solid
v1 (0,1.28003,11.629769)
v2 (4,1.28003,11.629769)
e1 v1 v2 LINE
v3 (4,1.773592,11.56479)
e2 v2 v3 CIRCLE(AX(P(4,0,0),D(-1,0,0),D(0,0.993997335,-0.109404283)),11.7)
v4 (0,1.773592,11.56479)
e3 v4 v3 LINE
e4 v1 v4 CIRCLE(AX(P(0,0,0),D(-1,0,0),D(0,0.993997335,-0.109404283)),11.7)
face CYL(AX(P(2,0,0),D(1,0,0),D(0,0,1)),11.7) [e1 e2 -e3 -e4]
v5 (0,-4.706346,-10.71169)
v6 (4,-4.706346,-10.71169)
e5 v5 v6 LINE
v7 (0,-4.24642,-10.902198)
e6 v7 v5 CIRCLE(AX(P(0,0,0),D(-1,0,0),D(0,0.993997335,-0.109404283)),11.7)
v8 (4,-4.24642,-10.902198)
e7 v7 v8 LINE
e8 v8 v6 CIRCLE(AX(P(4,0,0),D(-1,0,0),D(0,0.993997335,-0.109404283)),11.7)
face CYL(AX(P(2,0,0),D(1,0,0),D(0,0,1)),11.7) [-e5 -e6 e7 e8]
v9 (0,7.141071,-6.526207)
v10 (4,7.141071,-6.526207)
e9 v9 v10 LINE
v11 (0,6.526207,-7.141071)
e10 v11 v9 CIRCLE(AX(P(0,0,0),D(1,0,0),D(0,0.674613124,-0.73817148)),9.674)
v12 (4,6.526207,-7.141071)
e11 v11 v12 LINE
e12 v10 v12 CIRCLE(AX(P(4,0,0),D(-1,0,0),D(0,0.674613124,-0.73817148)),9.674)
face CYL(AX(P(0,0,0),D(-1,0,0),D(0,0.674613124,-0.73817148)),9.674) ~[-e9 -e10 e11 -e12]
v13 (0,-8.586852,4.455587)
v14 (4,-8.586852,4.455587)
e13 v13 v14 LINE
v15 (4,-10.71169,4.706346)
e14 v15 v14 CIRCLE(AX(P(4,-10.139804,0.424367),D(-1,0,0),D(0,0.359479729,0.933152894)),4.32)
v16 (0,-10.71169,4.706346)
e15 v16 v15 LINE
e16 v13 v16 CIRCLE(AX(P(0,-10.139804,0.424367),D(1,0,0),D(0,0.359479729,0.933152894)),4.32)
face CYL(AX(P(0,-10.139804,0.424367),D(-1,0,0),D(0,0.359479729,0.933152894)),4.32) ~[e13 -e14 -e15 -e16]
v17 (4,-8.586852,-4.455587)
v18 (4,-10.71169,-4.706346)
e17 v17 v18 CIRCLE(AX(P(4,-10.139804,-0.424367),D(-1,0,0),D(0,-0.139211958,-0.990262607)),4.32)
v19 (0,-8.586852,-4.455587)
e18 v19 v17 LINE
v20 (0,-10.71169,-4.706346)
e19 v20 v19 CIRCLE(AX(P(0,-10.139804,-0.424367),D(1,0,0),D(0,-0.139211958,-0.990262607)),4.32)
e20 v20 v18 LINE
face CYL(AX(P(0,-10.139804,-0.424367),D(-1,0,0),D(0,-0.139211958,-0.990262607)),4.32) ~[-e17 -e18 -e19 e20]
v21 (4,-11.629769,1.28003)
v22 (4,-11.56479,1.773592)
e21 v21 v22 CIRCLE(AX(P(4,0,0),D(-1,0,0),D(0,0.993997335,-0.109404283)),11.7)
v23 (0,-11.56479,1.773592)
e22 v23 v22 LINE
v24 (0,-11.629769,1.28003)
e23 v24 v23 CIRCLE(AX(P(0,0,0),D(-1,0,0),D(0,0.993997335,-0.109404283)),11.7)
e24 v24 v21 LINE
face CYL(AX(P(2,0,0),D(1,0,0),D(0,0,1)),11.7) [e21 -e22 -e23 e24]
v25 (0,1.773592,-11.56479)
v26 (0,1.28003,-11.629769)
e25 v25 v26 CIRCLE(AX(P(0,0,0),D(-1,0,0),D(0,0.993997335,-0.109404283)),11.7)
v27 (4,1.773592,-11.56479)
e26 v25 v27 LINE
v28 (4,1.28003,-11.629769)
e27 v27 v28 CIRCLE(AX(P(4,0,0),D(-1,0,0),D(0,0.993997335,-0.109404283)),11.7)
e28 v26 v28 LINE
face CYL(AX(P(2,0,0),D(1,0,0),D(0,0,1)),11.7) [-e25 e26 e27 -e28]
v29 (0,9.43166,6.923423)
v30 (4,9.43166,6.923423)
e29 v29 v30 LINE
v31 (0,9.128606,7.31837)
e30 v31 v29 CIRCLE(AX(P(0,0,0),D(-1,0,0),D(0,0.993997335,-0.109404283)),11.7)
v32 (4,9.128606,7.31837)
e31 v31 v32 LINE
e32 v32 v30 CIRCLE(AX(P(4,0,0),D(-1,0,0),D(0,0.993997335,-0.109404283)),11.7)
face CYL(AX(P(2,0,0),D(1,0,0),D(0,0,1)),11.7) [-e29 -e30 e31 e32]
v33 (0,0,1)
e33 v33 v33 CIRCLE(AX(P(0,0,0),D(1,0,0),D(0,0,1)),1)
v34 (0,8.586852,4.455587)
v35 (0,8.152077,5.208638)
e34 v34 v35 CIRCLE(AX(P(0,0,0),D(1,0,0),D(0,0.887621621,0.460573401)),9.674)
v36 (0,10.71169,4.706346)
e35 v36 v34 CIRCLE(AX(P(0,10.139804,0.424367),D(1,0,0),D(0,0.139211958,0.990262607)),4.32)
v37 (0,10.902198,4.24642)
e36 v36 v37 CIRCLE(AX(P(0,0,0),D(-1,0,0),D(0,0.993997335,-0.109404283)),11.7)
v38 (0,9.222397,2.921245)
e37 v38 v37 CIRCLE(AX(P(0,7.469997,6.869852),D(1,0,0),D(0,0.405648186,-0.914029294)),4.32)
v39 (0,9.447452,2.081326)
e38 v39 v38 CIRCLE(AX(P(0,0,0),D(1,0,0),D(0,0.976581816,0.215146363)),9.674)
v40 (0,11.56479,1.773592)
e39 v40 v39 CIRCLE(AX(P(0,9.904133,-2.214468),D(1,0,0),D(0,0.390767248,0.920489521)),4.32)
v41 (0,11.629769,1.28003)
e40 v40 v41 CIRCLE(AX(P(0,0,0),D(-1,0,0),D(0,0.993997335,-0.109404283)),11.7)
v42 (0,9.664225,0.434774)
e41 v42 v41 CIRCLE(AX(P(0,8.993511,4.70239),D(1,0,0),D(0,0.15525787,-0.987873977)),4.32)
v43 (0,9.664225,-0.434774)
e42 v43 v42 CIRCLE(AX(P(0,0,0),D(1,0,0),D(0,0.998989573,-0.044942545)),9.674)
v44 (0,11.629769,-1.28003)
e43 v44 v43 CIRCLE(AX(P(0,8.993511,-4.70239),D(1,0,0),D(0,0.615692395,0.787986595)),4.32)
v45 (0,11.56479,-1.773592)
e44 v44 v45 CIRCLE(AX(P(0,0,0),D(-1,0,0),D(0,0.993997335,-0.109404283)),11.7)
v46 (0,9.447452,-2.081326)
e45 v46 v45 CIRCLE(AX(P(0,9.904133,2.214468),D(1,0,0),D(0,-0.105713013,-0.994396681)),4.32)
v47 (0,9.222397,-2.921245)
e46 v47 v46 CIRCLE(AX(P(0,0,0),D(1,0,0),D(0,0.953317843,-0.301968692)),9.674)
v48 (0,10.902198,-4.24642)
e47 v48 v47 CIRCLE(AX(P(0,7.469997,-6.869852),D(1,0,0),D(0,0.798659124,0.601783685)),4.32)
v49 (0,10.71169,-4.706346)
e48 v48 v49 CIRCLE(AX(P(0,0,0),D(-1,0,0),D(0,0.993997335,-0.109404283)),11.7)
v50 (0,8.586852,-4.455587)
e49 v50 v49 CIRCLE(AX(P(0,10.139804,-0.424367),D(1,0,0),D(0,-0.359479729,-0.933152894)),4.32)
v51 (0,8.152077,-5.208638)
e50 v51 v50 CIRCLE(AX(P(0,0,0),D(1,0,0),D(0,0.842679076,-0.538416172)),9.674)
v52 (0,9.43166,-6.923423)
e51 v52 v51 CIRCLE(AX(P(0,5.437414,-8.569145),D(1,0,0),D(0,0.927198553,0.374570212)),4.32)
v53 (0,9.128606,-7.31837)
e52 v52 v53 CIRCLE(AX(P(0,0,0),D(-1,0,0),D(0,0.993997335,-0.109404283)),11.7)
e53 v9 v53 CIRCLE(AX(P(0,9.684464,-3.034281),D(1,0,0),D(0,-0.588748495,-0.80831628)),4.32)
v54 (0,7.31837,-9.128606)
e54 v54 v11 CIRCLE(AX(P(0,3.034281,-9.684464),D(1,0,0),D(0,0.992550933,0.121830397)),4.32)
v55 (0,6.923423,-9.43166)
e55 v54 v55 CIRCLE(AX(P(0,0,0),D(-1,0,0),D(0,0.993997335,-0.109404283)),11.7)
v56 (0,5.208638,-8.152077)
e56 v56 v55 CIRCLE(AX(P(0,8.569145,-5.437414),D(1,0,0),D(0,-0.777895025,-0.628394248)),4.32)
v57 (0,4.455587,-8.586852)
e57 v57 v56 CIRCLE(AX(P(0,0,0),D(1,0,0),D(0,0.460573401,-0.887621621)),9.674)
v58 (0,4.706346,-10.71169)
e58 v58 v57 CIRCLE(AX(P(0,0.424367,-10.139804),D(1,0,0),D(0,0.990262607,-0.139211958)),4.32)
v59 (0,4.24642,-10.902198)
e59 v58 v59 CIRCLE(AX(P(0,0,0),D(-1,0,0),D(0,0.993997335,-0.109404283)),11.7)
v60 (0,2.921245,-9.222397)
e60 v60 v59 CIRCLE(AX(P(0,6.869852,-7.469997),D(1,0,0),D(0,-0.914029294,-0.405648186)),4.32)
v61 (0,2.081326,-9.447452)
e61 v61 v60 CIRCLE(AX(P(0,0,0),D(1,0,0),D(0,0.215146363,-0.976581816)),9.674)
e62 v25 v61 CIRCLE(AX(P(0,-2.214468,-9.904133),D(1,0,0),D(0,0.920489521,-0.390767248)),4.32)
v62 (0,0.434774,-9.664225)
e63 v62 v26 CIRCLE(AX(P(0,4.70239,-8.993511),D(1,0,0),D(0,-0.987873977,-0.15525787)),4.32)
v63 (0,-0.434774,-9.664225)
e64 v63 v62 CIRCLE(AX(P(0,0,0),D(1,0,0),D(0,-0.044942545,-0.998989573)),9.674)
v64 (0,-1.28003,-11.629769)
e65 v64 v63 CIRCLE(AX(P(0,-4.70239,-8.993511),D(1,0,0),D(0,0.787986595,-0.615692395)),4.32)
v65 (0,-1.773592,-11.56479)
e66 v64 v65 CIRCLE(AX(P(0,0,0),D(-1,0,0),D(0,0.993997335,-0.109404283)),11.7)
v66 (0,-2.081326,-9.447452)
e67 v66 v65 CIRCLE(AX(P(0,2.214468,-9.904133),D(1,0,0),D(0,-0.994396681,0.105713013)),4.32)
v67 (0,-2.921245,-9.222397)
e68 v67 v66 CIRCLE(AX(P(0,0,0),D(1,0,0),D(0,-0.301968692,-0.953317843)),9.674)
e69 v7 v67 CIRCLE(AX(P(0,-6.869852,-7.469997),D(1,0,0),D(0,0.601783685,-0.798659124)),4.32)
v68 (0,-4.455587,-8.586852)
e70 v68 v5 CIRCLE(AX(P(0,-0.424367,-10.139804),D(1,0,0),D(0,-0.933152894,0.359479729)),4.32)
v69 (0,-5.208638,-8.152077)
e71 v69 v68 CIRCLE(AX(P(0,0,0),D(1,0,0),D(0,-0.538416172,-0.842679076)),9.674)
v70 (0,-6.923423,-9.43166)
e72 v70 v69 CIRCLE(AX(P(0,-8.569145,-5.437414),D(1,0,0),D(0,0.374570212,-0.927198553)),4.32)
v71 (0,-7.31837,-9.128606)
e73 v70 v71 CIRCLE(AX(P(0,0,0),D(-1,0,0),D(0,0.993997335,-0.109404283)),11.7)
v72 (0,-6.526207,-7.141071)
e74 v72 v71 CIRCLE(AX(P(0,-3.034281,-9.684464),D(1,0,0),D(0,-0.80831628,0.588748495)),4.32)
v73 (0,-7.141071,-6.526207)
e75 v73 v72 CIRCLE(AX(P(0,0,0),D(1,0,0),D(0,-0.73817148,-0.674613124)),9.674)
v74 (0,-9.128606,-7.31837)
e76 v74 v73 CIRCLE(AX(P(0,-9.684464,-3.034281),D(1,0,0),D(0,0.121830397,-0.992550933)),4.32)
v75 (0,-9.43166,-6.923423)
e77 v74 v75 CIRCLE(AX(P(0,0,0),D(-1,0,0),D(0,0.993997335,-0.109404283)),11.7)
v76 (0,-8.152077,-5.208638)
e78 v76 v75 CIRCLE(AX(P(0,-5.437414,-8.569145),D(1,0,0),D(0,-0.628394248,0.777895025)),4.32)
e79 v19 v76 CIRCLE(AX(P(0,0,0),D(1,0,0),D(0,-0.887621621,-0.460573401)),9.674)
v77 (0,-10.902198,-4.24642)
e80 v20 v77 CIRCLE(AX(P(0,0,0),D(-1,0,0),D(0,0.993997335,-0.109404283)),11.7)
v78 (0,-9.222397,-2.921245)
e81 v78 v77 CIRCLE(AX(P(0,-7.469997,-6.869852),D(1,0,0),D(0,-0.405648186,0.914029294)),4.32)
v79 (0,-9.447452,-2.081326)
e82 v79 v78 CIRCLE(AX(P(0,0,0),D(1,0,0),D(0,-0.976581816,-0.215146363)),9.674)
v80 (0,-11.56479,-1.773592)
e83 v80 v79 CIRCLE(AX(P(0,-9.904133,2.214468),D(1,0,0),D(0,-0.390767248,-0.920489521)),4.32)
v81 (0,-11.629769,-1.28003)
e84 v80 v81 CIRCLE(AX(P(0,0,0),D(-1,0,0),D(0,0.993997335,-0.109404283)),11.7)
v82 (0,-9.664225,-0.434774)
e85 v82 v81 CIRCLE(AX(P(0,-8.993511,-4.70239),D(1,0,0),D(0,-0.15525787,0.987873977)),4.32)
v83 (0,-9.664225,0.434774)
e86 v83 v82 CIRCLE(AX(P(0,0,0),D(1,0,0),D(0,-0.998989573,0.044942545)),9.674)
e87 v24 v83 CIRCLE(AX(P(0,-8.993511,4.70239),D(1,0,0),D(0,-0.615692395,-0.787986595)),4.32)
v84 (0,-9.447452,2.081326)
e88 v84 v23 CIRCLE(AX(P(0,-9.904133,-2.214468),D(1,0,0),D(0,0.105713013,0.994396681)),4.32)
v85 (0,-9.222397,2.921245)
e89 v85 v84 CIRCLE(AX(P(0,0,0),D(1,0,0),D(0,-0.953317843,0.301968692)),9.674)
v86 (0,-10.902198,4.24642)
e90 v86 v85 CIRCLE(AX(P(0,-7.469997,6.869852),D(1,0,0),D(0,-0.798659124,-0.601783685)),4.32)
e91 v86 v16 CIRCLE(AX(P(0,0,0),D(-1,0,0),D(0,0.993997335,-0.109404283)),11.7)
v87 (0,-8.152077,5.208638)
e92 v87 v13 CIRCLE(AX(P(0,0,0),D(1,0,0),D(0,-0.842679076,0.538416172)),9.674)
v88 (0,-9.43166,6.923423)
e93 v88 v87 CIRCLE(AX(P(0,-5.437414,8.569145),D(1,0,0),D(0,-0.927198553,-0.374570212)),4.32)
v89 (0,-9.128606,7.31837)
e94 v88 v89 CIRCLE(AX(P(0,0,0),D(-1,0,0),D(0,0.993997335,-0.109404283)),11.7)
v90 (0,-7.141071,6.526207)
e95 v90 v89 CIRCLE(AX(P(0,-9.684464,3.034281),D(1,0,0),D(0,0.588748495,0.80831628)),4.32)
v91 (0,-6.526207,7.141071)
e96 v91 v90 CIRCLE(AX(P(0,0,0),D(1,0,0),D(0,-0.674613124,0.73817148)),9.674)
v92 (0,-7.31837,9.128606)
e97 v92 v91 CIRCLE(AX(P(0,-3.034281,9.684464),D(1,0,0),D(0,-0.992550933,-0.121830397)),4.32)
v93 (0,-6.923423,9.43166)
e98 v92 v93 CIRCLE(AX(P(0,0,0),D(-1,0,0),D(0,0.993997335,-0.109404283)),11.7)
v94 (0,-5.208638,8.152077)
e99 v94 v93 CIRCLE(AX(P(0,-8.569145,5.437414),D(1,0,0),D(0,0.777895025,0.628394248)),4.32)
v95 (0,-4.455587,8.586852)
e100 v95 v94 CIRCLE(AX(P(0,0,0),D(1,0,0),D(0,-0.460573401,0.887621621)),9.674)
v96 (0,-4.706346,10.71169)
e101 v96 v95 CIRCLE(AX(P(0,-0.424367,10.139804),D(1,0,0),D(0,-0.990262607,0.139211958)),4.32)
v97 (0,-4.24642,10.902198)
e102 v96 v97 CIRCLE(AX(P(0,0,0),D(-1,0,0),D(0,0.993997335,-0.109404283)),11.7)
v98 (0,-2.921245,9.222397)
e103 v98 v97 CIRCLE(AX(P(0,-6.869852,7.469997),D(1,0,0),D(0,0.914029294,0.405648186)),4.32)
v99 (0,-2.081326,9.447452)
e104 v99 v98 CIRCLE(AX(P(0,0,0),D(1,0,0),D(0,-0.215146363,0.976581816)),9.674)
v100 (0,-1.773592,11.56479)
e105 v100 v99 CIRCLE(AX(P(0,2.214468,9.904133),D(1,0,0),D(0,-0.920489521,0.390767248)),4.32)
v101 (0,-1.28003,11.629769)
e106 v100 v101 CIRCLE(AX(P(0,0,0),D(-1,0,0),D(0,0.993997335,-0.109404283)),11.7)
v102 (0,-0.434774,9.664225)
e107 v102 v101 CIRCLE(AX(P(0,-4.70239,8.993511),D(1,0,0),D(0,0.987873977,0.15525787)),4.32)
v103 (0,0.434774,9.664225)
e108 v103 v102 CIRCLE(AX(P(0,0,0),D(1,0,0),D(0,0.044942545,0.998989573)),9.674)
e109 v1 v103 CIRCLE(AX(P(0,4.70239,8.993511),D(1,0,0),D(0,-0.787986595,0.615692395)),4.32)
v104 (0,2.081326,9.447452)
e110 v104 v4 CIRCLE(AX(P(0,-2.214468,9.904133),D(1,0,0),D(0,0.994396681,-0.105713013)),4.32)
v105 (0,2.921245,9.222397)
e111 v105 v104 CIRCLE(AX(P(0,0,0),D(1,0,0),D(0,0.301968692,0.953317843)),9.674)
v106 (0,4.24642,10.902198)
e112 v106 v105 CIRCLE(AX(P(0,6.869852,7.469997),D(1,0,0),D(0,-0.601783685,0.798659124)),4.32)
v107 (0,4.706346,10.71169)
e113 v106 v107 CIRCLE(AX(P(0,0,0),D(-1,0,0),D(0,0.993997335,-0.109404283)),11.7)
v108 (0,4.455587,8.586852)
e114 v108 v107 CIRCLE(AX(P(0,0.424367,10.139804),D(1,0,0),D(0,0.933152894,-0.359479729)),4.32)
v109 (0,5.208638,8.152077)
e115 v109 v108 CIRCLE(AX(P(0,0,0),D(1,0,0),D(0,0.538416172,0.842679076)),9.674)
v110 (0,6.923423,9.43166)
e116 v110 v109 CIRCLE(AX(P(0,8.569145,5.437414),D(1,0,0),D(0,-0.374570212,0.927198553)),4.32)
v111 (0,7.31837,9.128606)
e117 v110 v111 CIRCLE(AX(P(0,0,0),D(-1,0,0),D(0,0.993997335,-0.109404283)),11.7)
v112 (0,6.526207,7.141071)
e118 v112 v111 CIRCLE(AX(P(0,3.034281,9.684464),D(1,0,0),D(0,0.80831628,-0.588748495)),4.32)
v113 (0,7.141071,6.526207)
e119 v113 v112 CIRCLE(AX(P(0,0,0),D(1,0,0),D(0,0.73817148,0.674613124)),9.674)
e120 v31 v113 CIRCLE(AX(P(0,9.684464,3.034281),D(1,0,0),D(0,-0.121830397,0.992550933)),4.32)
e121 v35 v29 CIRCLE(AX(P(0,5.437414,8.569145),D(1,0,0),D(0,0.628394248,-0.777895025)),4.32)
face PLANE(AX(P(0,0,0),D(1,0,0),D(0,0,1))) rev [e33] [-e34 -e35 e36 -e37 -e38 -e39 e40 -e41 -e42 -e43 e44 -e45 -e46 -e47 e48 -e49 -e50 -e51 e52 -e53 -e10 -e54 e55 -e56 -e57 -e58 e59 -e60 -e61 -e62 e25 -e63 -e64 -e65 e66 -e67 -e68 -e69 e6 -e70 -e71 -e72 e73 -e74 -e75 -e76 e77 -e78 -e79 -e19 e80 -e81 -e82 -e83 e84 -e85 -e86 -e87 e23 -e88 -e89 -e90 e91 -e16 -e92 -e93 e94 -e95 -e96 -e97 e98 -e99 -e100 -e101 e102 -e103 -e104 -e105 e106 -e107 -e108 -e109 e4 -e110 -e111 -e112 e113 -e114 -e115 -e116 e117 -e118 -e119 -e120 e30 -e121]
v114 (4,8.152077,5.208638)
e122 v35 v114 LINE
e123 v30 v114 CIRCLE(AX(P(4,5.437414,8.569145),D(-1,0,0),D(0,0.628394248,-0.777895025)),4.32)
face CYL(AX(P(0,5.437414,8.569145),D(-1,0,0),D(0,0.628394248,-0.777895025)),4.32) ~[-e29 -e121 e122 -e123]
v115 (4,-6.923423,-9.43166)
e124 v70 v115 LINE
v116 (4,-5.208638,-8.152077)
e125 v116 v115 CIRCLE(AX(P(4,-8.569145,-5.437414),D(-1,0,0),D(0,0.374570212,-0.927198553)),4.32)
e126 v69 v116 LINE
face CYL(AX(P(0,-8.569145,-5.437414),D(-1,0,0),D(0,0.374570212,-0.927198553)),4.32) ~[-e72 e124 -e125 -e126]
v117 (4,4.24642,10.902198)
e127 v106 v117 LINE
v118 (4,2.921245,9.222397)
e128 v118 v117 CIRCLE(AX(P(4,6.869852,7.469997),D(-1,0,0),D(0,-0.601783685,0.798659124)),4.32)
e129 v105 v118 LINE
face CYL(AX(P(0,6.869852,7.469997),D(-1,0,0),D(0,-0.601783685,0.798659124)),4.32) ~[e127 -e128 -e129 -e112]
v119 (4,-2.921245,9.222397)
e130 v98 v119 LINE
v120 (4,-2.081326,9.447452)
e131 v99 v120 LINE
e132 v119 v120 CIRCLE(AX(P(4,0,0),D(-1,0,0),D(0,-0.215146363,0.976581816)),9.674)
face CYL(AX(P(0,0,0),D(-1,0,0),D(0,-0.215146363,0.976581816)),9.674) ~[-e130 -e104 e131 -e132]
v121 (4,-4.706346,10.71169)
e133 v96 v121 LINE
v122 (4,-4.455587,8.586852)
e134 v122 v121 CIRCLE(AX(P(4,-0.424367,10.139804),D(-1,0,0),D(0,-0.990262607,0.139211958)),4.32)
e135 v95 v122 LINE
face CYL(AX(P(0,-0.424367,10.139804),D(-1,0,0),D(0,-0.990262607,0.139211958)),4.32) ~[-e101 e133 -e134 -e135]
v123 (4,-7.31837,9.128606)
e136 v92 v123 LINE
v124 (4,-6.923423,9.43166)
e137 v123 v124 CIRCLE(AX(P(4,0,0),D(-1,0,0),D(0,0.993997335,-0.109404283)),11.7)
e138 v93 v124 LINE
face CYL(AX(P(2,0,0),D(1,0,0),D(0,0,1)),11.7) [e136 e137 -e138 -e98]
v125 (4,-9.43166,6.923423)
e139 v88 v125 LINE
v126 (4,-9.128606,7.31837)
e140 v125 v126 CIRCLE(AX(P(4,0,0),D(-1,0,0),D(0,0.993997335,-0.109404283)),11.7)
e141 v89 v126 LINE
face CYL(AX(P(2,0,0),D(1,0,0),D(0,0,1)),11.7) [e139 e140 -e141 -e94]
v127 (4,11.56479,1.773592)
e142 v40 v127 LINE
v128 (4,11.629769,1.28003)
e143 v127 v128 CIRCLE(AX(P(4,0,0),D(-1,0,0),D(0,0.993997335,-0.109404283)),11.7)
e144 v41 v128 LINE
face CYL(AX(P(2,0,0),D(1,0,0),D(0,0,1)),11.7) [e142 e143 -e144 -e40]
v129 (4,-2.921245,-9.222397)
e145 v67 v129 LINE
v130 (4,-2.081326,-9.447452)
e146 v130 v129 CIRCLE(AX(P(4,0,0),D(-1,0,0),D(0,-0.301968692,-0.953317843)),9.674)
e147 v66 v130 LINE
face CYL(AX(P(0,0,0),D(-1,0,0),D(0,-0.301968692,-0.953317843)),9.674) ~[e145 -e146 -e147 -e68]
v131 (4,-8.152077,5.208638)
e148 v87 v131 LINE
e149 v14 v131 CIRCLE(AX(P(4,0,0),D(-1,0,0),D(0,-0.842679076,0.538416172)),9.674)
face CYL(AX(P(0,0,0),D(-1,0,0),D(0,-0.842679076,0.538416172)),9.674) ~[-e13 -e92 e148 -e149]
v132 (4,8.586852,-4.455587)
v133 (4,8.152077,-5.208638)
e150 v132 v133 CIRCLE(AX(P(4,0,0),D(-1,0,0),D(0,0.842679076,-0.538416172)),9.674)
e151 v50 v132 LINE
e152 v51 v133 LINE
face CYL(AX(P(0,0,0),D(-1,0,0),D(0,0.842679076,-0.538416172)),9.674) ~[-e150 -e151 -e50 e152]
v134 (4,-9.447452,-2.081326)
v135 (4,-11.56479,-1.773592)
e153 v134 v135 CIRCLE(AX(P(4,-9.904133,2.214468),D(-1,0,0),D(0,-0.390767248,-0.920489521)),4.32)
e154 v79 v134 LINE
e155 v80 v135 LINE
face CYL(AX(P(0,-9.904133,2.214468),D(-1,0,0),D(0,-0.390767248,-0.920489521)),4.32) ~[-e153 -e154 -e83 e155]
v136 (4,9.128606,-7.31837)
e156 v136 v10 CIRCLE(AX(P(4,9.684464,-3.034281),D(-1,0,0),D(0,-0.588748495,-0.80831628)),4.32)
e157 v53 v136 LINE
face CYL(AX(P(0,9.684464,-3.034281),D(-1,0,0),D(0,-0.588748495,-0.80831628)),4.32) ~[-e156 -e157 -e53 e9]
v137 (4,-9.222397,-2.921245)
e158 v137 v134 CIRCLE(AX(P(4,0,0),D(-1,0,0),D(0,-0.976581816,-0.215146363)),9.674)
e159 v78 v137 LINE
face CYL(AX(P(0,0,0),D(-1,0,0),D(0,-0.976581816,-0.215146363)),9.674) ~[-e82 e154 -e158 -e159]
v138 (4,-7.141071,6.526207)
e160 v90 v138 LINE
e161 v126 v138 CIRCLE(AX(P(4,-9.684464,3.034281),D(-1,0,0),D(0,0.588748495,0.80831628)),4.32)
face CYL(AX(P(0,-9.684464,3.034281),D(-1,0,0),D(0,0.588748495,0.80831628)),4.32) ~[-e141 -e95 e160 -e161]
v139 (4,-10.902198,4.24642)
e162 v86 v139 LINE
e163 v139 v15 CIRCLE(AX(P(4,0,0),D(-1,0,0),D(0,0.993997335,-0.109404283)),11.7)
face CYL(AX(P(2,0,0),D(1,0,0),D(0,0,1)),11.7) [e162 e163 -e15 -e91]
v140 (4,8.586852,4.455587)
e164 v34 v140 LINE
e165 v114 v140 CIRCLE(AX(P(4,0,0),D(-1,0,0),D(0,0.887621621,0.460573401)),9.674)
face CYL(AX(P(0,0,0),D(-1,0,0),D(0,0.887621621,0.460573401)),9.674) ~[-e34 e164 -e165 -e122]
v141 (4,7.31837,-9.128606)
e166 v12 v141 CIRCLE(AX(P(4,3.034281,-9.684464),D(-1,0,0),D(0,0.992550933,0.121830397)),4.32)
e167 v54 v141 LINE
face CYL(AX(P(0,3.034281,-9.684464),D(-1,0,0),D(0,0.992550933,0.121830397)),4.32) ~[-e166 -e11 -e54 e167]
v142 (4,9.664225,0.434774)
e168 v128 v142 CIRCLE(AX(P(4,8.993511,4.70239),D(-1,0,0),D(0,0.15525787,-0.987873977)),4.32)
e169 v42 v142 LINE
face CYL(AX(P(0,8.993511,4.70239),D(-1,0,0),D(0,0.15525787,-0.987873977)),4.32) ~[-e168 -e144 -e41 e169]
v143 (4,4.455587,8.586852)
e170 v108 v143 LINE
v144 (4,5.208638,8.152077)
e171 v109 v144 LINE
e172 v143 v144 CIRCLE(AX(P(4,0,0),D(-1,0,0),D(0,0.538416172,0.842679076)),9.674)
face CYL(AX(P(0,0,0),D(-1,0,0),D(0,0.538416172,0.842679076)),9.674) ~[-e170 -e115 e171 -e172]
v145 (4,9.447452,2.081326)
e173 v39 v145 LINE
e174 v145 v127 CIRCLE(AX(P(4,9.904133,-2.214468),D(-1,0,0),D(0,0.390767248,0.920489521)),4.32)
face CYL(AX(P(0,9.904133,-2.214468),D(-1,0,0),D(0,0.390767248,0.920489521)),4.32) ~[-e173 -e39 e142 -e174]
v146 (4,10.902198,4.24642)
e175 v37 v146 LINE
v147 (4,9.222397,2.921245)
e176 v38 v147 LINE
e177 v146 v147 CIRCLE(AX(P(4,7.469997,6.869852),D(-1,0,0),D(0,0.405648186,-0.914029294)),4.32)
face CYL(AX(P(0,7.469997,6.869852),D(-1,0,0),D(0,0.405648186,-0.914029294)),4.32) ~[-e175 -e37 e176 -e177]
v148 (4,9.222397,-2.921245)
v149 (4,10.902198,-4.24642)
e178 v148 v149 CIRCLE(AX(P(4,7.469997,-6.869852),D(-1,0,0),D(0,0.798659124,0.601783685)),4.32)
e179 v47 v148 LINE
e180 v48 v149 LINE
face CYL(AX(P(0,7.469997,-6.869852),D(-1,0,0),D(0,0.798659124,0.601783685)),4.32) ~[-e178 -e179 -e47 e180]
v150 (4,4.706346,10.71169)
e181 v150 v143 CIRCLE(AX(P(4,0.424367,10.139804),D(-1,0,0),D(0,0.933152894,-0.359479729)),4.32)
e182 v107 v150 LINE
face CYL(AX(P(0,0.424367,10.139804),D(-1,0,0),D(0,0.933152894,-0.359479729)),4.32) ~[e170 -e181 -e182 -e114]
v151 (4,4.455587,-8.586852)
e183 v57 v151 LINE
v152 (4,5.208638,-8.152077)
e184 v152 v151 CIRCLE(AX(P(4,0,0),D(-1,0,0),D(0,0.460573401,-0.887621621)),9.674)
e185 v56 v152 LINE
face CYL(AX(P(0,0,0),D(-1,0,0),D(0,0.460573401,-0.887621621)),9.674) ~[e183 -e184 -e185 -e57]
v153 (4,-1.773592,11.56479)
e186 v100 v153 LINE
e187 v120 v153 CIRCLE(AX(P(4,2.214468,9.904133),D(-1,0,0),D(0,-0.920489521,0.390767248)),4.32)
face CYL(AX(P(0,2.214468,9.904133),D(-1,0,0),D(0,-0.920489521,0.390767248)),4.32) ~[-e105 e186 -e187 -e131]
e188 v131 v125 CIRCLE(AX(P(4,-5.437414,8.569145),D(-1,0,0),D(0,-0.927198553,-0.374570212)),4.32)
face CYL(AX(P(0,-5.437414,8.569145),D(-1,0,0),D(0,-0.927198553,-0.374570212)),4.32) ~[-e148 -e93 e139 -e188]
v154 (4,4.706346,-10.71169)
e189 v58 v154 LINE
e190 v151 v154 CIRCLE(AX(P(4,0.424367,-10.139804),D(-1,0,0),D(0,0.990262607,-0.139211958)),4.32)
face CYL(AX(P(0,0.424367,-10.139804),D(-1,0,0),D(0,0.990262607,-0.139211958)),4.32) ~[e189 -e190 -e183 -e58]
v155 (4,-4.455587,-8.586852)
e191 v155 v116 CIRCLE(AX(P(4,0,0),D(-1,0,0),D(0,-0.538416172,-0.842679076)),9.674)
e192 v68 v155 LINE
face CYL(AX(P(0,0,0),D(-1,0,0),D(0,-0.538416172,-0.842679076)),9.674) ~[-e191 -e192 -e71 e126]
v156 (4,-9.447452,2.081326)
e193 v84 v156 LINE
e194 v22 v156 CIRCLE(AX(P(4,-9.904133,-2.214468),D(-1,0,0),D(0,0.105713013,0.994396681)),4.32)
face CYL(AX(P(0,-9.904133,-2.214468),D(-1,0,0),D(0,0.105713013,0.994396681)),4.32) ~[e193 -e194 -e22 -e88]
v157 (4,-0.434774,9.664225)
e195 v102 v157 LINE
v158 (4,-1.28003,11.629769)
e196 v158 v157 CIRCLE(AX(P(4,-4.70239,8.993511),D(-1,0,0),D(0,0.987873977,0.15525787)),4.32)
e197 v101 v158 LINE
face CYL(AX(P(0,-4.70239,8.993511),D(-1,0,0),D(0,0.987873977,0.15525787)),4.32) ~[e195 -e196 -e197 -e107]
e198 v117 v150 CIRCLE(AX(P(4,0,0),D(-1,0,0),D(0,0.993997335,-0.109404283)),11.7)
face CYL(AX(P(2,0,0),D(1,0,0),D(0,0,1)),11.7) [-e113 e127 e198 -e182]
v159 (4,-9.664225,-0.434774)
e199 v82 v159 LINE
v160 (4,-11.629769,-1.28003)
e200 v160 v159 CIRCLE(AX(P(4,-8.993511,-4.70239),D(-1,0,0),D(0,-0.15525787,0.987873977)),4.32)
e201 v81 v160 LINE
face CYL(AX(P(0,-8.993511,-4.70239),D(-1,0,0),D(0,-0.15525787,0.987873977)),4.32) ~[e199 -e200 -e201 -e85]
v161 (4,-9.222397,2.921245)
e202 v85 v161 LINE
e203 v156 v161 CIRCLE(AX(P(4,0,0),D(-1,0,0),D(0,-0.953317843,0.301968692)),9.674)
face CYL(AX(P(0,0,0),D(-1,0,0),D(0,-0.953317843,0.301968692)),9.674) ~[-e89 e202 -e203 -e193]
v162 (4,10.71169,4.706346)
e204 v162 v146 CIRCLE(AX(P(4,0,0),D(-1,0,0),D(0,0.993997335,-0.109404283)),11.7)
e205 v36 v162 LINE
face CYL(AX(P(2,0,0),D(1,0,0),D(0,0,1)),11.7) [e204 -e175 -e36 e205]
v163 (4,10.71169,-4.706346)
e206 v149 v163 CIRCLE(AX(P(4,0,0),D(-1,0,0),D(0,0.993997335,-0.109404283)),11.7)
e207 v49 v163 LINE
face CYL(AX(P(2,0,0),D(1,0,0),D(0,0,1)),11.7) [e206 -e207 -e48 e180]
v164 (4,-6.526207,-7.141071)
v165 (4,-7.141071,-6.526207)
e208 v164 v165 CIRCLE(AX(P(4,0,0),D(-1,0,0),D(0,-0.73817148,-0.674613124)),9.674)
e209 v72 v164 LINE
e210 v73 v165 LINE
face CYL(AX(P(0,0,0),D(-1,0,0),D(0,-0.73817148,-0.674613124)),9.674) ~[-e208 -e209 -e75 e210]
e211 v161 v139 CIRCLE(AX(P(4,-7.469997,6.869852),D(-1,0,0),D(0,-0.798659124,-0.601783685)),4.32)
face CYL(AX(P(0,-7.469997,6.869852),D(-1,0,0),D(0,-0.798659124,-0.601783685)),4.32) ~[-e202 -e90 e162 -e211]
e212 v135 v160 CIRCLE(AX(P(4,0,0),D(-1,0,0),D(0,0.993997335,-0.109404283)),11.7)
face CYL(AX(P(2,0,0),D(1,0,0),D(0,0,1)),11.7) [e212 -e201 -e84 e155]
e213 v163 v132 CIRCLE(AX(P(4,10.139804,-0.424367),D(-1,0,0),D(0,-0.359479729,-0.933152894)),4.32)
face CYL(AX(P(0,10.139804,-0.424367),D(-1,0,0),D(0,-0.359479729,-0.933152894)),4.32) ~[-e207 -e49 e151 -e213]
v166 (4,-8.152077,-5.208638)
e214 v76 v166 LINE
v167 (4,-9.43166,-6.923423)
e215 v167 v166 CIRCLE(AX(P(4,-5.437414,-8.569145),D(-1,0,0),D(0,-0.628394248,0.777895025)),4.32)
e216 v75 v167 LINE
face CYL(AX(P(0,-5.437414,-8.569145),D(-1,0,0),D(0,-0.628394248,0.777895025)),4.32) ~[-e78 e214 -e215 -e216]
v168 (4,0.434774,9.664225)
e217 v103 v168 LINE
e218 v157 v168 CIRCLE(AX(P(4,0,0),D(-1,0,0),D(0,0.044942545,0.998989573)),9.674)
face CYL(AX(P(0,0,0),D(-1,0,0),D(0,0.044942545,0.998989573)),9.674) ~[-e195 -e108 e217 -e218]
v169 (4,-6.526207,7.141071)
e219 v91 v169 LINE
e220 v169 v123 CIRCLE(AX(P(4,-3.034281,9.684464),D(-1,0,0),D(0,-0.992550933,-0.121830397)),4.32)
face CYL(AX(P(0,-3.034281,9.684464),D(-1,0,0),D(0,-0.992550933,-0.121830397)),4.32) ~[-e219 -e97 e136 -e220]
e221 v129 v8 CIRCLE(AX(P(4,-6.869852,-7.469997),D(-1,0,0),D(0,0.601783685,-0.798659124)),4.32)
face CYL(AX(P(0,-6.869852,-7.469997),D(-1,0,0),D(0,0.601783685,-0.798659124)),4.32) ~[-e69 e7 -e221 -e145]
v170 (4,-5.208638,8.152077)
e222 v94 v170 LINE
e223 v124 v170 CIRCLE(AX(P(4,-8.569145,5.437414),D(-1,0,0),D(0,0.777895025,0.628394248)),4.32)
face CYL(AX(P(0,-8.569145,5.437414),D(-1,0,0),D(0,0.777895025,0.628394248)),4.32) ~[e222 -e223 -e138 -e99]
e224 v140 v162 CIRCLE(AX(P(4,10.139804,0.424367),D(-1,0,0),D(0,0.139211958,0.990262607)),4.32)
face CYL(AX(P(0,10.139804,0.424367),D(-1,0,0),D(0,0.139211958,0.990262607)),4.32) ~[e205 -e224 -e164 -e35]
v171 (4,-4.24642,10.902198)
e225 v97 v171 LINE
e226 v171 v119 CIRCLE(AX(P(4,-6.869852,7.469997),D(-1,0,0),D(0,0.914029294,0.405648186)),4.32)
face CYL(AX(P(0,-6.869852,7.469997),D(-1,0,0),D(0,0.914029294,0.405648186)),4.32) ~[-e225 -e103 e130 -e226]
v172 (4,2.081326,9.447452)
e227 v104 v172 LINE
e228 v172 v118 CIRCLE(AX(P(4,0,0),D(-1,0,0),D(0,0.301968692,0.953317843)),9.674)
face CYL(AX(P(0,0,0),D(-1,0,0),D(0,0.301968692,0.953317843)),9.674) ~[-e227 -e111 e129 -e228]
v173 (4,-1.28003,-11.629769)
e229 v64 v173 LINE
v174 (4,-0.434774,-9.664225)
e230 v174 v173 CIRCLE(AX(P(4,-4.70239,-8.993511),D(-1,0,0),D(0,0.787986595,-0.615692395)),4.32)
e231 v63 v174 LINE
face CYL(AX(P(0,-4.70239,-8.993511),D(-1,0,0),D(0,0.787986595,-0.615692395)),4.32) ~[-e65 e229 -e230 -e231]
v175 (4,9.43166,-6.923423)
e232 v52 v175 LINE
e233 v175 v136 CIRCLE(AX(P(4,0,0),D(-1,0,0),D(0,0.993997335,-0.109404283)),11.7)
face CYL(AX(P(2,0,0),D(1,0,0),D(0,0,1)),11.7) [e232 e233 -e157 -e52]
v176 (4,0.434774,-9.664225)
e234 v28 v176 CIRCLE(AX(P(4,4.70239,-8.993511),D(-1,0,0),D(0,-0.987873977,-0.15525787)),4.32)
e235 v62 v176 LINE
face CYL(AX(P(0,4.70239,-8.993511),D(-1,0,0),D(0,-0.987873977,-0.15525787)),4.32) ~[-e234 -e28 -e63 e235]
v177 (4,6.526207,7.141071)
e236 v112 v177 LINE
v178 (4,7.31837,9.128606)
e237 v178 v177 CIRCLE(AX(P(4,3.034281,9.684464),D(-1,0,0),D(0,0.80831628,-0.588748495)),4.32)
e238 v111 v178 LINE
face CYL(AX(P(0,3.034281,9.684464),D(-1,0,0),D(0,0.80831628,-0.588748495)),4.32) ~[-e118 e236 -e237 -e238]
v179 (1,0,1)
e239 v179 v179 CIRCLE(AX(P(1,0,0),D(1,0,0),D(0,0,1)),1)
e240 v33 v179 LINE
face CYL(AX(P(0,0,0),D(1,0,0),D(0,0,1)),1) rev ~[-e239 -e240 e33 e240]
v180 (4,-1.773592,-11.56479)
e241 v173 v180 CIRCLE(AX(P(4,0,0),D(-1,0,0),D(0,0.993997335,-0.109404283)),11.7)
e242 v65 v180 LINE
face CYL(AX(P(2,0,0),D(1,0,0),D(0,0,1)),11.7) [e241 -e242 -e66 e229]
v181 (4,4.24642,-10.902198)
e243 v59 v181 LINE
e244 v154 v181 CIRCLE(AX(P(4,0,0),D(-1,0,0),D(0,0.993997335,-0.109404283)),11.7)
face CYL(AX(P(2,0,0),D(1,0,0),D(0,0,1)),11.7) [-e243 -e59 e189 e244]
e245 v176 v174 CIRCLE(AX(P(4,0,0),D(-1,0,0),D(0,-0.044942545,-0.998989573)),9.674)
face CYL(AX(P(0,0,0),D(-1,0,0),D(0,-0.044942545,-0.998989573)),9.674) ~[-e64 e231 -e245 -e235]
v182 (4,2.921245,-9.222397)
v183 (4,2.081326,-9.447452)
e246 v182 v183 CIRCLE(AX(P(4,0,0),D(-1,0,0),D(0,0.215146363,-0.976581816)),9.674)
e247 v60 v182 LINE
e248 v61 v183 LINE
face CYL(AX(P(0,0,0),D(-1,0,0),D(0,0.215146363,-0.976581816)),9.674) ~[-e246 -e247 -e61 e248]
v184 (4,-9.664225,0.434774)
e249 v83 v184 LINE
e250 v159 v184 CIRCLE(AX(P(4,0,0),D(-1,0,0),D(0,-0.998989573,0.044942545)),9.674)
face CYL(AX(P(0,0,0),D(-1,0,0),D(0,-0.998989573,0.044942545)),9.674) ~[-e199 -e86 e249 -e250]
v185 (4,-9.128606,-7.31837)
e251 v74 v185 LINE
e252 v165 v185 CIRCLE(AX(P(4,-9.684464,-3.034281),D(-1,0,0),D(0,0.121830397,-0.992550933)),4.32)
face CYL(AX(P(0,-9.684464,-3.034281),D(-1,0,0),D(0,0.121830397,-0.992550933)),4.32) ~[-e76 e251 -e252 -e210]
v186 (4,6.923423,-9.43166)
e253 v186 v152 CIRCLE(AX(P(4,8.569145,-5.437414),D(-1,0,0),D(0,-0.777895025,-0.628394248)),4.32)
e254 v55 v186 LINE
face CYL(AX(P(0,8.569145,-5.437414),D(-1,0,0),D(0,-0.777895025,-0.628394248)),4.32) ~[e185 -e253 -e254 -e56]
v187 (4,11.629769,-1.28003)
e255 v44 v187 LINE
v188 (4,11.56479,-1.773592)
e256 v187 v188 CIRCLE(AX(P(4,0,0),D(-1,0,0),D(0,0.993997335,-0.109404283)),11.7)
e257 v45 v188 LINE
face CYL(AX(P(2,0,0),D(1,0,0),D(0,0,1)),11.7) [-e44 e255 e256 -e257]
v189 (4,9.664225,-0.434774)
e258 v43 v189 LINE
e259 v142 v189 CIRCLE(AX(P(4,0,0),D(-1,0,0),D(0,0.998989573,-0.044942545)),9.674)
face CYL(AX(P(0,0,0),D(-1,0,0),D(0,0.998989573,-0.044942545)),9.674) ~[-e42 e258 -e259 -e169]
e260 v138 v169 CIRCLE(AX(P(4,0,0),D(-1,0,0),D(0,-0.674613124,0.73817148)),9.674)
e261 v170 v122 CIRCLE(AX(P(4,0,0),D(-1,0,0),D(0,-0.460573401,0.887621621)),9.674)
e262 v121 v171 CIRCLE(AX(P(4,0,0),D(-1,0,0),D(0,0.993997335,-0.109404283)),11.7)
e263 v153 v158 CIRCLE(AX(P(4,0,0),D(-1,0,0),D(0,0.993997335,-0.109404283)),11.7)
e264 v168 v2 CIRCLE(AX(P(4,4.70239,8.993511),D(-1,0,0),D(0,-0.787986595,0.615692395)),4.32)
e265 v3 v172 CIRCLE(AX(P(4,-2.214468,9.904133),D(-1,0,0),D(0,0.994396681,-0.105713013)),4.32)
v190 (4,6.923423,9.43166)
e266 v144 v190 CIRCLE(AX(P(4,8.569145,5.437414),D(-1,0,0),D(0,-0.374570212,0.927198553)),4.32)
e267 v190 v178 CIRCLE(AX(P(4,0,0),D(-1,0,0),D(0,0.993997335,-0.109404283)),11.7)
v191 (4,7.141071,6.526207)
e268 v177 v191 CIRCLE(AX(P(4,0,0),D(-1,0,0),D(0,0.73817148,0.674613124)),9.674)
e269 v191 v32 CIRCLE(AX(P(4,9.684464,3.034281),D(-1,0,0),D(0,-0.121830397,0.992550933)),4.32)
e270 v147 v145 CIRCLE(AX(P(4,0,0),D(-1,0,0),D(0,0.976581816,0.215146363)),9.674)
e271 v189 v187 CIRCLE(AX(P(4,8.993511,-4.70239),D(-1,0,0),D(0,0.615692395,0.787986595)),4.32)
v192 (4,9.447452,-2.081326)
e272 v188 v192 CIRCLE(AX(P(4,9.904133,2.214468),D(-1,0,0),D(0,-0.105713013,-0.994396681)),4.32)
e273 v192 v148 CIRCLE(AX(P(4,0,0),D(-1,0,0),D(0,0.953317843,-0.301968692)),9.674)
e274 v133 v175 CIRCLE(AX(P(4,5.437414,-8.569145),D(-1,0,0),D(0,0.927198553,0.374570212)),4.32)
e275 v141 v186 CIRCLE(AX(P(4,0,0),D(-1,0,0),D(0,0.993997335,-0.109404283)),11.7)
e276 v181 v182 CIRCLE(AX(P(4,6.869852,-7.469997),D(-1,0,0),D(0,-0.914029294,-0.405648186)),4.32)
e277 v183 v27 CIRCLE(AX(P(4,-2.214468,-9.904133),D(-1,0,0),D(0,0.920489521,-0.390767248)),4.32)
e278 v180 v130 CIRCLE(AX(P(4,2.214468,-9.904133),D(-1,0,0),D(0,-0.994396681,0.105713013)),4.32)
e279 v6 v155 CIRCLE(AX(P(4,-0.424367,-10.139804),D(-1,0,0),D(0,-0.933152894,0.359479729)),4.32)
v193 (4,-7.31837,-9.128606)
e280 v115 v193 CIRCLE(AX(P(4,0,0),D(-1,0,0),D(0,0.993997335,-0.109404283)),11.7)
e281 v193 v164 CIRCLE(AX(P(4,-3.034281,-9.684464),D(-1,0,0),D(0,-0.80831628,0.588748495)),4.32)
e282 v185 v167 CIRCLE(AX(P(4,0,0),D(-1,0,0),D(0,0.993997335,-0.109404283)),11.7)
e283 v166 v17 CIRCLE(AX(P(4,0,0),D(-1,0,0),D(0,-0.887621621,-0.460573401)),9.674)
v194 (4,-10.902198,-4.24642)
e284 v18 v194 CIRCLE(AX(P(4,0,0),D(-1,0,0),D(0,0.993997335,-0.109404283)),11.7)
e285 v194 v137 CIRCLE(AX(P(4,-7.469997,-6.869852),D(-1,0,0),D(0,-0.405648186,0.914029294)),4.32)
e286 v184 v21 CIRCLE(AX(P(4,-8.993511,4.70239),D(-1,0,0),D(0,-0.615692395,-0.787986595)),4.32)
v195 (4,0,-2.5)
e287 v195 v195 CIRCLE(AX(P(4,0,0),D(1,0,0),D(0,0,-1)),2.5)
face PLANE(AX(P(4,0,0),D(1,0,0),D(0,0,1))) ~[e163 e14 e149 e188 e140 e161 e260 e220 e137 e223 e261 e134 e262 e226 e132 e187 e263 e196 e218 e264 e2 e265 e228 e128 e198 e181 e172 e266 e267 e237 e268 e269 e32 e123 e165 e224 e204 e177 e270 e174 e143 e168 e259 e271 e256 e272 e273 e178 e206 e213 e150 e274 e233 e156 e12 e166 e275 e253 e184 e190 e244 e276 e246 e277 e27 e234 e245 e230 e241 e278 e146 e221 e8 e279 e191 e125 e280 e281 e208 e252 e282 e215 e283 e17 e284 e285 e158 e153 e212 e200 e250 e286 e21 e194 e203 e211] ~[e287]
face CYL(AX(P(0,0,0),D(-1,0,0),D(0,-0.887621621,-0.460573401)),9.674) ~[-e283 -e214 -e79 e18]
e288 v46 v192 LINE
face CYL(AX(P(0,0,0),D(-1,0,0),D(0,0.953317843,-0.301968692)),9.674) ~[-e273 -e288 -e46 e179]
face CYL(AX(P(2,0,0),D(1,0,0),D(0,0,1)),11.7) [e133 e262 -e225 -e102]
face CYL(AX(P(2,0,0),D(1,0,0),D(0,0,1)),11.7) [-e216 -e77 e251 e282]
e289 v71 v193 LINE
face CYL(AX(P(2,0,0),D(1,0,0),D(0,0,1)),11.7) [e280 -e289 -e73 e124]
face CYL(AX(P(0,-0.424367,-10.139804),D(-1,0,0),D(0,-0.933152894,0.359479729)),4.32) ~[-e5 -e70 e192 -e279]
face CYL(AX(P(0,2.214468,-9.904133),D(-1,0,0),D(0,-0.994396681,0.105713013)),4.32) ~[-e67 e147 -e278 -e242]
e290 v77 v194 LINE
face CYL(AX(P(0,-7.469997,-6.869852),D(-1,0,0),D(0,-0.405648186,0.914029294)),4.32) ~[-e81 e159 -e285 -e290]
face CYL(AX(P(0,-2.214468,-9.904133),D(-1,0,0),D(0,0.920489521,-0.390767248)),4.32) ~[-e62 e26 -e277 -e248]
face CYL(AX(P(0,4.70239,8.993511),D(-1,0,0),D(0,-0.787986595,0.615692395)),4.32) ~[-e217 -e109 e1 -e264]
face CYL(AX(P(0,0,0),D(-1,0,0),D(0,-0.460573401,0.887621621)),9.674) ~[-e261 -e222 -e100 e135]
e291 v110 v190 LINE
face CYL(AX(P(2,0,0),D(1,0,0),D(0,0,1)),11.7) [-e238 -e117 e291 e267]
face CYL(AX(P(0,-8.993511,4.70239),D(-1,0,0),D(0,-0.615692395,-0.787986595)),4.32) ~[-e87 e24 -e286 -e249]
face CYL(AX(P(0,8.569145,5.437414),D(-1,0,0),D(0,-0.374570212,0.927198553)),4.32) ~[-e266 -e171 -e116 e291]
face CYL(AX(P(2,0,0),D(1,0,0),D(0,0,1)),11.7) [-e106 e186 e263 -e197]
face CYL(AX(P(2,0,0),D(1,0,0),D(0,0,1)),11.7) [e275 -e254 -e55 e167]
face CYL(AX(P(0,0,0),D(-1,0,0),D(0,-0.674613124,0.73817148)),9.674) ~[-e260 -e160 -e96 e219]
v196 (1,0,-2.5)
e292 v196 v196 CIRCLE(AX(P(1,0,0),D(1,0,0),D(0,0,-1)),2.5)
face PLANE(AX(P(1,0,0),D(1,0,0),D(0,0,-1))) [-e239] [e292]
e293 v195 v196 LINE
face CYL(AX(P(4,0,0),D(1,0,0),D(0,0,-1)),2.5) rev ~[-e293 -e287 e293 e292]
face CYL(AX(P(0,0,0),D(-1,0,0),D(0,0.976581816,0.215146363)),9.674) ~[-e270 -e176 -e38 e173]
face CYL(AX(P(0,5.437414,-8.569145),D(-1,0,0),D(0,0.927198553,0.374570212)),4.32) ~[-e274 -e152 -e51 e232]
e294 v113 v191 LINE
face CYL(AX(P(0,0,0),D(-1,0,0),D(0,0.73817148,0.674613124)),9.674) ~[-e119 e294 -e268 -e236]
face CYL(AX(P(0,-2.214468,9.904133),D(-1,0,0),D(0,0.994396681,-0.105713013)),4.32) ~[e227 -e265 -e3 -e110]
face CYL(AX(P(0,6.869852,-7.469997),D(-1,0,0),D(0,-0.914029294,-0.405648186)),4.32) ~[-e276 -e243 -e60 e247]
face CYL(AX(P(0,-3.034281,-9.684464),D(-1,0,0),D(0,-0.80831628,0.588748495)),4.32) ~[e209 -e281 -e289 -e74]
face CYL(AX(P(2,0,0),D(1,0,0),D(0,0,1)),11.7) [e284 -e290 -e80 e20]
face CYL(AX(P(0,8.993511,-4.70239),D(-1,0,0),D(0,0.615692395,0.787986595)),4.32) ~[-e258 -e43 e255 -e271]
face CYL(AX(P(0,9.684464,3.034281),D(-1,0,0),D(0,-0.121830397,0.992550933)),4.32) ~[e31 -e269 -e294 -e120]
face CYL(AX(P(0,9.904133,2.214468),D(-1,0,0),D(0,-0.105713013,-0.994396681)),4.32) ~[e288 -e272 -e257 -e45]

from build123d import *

# Parameters (mm, degrees)
BASPROSKE_W        = 4
BASPROSKE_H        = 11.7
TOOTHCUT_DEPTH     = 18.022925718
TEETHCUTS_COUNT    = 24
TEETHCUTS_ANGLE    = 345
BORSKE_R           = 1
BORE_DEPTH         = 50.0000508
SKETCH1_R          = 2.5
CUT_EXTRUDE1_DEPTH = 3


with BuildPart() as part:
    # BasProSke → Base-Revolve (revolve)
    with BuildSketch(Plane(origin=(0, 0, 0), x_dir=(1, 0, 0), z_dir=(0, 1, 0)), mode=Mode.PRIVATE) as base_revolve_sk:
        with Locations((2, 5.85)):
            Rectangle(BASPROSKE_W, BASPROSKE_H)
    revolve(base_revolve_sk.sketch.rotate(Axis((-10, 0, 0), (1, 0, 0)), 180), axis=Axis((-10, 0, 0), (1, 0, 0)))

    # TooCutSke → ToothCut (cut, through all)
    with BuildSketch(Plane(origin=(0, 0, 0), x_dir=(0, 0, -1), z_dir=(1, 0, 0))):
        with BuildLine():
            ThreePointArc((0.434774164, 9.664225133), (0, 9.674), (-0.434774164, 9.664225133))
            ThreePointArc((-0.434774164, 9.664225133), (-0.739698742, 10.71382507), (-1.298287656, 11.653302293))
            ThreePointArc((-1.298287656, 11.653302293), (0, 11.7254), (1.298287656, 11.653302293))
            ThreePointArc((1.298287656, 11.653302293), (0.739698742, 10.71382507), (0.434774164, 9.664225133))
        make_face()
    toothcut = extrude(amount=TOOTHCUT_DEPTH, mode=Mode.SUBTRACT)

    # TeethCuts: ToothCut ×24 about axis
    teethcuts_axis = Axis((-10, 0, 0), (1, 0, 0))
    for i in range(1, TEETHCUTS_COUNT):
        add(toothcut.rotate(teethcuts_axis, i * TEETHCUTS_ANGLE / (TEETHCUTS_COUNT - 1)), mode=Mode.SUBTRACT)

    # BorSke → Bore (cut, symmetric)
    with BuildSketch(Plane(origin=(0, 0, 0), x_dir=(0, 0, -1), z_dir=(1, 0, 0))):
        with Locations(Location((0, 0, 0), (0, 0, 180))):
            Circle(BORSKE_R)
    extrude(amount=BORE_DEPTH, both=True, mode=Mode.SUBTRACT)

    # Sketch1 → Cut-Extrude1 (cut)
    with BuildSketch(Plane(origin=(4, 0, 0), x_dir=(0, 0, -1), z_dir=(1, 0, 0))):
        Circle(SKETCH1_R)
    extrude(amount=-CUT_EXTRUDE1_DEPTH, mode=Mode.SUBTRACT)


solid = part.part
